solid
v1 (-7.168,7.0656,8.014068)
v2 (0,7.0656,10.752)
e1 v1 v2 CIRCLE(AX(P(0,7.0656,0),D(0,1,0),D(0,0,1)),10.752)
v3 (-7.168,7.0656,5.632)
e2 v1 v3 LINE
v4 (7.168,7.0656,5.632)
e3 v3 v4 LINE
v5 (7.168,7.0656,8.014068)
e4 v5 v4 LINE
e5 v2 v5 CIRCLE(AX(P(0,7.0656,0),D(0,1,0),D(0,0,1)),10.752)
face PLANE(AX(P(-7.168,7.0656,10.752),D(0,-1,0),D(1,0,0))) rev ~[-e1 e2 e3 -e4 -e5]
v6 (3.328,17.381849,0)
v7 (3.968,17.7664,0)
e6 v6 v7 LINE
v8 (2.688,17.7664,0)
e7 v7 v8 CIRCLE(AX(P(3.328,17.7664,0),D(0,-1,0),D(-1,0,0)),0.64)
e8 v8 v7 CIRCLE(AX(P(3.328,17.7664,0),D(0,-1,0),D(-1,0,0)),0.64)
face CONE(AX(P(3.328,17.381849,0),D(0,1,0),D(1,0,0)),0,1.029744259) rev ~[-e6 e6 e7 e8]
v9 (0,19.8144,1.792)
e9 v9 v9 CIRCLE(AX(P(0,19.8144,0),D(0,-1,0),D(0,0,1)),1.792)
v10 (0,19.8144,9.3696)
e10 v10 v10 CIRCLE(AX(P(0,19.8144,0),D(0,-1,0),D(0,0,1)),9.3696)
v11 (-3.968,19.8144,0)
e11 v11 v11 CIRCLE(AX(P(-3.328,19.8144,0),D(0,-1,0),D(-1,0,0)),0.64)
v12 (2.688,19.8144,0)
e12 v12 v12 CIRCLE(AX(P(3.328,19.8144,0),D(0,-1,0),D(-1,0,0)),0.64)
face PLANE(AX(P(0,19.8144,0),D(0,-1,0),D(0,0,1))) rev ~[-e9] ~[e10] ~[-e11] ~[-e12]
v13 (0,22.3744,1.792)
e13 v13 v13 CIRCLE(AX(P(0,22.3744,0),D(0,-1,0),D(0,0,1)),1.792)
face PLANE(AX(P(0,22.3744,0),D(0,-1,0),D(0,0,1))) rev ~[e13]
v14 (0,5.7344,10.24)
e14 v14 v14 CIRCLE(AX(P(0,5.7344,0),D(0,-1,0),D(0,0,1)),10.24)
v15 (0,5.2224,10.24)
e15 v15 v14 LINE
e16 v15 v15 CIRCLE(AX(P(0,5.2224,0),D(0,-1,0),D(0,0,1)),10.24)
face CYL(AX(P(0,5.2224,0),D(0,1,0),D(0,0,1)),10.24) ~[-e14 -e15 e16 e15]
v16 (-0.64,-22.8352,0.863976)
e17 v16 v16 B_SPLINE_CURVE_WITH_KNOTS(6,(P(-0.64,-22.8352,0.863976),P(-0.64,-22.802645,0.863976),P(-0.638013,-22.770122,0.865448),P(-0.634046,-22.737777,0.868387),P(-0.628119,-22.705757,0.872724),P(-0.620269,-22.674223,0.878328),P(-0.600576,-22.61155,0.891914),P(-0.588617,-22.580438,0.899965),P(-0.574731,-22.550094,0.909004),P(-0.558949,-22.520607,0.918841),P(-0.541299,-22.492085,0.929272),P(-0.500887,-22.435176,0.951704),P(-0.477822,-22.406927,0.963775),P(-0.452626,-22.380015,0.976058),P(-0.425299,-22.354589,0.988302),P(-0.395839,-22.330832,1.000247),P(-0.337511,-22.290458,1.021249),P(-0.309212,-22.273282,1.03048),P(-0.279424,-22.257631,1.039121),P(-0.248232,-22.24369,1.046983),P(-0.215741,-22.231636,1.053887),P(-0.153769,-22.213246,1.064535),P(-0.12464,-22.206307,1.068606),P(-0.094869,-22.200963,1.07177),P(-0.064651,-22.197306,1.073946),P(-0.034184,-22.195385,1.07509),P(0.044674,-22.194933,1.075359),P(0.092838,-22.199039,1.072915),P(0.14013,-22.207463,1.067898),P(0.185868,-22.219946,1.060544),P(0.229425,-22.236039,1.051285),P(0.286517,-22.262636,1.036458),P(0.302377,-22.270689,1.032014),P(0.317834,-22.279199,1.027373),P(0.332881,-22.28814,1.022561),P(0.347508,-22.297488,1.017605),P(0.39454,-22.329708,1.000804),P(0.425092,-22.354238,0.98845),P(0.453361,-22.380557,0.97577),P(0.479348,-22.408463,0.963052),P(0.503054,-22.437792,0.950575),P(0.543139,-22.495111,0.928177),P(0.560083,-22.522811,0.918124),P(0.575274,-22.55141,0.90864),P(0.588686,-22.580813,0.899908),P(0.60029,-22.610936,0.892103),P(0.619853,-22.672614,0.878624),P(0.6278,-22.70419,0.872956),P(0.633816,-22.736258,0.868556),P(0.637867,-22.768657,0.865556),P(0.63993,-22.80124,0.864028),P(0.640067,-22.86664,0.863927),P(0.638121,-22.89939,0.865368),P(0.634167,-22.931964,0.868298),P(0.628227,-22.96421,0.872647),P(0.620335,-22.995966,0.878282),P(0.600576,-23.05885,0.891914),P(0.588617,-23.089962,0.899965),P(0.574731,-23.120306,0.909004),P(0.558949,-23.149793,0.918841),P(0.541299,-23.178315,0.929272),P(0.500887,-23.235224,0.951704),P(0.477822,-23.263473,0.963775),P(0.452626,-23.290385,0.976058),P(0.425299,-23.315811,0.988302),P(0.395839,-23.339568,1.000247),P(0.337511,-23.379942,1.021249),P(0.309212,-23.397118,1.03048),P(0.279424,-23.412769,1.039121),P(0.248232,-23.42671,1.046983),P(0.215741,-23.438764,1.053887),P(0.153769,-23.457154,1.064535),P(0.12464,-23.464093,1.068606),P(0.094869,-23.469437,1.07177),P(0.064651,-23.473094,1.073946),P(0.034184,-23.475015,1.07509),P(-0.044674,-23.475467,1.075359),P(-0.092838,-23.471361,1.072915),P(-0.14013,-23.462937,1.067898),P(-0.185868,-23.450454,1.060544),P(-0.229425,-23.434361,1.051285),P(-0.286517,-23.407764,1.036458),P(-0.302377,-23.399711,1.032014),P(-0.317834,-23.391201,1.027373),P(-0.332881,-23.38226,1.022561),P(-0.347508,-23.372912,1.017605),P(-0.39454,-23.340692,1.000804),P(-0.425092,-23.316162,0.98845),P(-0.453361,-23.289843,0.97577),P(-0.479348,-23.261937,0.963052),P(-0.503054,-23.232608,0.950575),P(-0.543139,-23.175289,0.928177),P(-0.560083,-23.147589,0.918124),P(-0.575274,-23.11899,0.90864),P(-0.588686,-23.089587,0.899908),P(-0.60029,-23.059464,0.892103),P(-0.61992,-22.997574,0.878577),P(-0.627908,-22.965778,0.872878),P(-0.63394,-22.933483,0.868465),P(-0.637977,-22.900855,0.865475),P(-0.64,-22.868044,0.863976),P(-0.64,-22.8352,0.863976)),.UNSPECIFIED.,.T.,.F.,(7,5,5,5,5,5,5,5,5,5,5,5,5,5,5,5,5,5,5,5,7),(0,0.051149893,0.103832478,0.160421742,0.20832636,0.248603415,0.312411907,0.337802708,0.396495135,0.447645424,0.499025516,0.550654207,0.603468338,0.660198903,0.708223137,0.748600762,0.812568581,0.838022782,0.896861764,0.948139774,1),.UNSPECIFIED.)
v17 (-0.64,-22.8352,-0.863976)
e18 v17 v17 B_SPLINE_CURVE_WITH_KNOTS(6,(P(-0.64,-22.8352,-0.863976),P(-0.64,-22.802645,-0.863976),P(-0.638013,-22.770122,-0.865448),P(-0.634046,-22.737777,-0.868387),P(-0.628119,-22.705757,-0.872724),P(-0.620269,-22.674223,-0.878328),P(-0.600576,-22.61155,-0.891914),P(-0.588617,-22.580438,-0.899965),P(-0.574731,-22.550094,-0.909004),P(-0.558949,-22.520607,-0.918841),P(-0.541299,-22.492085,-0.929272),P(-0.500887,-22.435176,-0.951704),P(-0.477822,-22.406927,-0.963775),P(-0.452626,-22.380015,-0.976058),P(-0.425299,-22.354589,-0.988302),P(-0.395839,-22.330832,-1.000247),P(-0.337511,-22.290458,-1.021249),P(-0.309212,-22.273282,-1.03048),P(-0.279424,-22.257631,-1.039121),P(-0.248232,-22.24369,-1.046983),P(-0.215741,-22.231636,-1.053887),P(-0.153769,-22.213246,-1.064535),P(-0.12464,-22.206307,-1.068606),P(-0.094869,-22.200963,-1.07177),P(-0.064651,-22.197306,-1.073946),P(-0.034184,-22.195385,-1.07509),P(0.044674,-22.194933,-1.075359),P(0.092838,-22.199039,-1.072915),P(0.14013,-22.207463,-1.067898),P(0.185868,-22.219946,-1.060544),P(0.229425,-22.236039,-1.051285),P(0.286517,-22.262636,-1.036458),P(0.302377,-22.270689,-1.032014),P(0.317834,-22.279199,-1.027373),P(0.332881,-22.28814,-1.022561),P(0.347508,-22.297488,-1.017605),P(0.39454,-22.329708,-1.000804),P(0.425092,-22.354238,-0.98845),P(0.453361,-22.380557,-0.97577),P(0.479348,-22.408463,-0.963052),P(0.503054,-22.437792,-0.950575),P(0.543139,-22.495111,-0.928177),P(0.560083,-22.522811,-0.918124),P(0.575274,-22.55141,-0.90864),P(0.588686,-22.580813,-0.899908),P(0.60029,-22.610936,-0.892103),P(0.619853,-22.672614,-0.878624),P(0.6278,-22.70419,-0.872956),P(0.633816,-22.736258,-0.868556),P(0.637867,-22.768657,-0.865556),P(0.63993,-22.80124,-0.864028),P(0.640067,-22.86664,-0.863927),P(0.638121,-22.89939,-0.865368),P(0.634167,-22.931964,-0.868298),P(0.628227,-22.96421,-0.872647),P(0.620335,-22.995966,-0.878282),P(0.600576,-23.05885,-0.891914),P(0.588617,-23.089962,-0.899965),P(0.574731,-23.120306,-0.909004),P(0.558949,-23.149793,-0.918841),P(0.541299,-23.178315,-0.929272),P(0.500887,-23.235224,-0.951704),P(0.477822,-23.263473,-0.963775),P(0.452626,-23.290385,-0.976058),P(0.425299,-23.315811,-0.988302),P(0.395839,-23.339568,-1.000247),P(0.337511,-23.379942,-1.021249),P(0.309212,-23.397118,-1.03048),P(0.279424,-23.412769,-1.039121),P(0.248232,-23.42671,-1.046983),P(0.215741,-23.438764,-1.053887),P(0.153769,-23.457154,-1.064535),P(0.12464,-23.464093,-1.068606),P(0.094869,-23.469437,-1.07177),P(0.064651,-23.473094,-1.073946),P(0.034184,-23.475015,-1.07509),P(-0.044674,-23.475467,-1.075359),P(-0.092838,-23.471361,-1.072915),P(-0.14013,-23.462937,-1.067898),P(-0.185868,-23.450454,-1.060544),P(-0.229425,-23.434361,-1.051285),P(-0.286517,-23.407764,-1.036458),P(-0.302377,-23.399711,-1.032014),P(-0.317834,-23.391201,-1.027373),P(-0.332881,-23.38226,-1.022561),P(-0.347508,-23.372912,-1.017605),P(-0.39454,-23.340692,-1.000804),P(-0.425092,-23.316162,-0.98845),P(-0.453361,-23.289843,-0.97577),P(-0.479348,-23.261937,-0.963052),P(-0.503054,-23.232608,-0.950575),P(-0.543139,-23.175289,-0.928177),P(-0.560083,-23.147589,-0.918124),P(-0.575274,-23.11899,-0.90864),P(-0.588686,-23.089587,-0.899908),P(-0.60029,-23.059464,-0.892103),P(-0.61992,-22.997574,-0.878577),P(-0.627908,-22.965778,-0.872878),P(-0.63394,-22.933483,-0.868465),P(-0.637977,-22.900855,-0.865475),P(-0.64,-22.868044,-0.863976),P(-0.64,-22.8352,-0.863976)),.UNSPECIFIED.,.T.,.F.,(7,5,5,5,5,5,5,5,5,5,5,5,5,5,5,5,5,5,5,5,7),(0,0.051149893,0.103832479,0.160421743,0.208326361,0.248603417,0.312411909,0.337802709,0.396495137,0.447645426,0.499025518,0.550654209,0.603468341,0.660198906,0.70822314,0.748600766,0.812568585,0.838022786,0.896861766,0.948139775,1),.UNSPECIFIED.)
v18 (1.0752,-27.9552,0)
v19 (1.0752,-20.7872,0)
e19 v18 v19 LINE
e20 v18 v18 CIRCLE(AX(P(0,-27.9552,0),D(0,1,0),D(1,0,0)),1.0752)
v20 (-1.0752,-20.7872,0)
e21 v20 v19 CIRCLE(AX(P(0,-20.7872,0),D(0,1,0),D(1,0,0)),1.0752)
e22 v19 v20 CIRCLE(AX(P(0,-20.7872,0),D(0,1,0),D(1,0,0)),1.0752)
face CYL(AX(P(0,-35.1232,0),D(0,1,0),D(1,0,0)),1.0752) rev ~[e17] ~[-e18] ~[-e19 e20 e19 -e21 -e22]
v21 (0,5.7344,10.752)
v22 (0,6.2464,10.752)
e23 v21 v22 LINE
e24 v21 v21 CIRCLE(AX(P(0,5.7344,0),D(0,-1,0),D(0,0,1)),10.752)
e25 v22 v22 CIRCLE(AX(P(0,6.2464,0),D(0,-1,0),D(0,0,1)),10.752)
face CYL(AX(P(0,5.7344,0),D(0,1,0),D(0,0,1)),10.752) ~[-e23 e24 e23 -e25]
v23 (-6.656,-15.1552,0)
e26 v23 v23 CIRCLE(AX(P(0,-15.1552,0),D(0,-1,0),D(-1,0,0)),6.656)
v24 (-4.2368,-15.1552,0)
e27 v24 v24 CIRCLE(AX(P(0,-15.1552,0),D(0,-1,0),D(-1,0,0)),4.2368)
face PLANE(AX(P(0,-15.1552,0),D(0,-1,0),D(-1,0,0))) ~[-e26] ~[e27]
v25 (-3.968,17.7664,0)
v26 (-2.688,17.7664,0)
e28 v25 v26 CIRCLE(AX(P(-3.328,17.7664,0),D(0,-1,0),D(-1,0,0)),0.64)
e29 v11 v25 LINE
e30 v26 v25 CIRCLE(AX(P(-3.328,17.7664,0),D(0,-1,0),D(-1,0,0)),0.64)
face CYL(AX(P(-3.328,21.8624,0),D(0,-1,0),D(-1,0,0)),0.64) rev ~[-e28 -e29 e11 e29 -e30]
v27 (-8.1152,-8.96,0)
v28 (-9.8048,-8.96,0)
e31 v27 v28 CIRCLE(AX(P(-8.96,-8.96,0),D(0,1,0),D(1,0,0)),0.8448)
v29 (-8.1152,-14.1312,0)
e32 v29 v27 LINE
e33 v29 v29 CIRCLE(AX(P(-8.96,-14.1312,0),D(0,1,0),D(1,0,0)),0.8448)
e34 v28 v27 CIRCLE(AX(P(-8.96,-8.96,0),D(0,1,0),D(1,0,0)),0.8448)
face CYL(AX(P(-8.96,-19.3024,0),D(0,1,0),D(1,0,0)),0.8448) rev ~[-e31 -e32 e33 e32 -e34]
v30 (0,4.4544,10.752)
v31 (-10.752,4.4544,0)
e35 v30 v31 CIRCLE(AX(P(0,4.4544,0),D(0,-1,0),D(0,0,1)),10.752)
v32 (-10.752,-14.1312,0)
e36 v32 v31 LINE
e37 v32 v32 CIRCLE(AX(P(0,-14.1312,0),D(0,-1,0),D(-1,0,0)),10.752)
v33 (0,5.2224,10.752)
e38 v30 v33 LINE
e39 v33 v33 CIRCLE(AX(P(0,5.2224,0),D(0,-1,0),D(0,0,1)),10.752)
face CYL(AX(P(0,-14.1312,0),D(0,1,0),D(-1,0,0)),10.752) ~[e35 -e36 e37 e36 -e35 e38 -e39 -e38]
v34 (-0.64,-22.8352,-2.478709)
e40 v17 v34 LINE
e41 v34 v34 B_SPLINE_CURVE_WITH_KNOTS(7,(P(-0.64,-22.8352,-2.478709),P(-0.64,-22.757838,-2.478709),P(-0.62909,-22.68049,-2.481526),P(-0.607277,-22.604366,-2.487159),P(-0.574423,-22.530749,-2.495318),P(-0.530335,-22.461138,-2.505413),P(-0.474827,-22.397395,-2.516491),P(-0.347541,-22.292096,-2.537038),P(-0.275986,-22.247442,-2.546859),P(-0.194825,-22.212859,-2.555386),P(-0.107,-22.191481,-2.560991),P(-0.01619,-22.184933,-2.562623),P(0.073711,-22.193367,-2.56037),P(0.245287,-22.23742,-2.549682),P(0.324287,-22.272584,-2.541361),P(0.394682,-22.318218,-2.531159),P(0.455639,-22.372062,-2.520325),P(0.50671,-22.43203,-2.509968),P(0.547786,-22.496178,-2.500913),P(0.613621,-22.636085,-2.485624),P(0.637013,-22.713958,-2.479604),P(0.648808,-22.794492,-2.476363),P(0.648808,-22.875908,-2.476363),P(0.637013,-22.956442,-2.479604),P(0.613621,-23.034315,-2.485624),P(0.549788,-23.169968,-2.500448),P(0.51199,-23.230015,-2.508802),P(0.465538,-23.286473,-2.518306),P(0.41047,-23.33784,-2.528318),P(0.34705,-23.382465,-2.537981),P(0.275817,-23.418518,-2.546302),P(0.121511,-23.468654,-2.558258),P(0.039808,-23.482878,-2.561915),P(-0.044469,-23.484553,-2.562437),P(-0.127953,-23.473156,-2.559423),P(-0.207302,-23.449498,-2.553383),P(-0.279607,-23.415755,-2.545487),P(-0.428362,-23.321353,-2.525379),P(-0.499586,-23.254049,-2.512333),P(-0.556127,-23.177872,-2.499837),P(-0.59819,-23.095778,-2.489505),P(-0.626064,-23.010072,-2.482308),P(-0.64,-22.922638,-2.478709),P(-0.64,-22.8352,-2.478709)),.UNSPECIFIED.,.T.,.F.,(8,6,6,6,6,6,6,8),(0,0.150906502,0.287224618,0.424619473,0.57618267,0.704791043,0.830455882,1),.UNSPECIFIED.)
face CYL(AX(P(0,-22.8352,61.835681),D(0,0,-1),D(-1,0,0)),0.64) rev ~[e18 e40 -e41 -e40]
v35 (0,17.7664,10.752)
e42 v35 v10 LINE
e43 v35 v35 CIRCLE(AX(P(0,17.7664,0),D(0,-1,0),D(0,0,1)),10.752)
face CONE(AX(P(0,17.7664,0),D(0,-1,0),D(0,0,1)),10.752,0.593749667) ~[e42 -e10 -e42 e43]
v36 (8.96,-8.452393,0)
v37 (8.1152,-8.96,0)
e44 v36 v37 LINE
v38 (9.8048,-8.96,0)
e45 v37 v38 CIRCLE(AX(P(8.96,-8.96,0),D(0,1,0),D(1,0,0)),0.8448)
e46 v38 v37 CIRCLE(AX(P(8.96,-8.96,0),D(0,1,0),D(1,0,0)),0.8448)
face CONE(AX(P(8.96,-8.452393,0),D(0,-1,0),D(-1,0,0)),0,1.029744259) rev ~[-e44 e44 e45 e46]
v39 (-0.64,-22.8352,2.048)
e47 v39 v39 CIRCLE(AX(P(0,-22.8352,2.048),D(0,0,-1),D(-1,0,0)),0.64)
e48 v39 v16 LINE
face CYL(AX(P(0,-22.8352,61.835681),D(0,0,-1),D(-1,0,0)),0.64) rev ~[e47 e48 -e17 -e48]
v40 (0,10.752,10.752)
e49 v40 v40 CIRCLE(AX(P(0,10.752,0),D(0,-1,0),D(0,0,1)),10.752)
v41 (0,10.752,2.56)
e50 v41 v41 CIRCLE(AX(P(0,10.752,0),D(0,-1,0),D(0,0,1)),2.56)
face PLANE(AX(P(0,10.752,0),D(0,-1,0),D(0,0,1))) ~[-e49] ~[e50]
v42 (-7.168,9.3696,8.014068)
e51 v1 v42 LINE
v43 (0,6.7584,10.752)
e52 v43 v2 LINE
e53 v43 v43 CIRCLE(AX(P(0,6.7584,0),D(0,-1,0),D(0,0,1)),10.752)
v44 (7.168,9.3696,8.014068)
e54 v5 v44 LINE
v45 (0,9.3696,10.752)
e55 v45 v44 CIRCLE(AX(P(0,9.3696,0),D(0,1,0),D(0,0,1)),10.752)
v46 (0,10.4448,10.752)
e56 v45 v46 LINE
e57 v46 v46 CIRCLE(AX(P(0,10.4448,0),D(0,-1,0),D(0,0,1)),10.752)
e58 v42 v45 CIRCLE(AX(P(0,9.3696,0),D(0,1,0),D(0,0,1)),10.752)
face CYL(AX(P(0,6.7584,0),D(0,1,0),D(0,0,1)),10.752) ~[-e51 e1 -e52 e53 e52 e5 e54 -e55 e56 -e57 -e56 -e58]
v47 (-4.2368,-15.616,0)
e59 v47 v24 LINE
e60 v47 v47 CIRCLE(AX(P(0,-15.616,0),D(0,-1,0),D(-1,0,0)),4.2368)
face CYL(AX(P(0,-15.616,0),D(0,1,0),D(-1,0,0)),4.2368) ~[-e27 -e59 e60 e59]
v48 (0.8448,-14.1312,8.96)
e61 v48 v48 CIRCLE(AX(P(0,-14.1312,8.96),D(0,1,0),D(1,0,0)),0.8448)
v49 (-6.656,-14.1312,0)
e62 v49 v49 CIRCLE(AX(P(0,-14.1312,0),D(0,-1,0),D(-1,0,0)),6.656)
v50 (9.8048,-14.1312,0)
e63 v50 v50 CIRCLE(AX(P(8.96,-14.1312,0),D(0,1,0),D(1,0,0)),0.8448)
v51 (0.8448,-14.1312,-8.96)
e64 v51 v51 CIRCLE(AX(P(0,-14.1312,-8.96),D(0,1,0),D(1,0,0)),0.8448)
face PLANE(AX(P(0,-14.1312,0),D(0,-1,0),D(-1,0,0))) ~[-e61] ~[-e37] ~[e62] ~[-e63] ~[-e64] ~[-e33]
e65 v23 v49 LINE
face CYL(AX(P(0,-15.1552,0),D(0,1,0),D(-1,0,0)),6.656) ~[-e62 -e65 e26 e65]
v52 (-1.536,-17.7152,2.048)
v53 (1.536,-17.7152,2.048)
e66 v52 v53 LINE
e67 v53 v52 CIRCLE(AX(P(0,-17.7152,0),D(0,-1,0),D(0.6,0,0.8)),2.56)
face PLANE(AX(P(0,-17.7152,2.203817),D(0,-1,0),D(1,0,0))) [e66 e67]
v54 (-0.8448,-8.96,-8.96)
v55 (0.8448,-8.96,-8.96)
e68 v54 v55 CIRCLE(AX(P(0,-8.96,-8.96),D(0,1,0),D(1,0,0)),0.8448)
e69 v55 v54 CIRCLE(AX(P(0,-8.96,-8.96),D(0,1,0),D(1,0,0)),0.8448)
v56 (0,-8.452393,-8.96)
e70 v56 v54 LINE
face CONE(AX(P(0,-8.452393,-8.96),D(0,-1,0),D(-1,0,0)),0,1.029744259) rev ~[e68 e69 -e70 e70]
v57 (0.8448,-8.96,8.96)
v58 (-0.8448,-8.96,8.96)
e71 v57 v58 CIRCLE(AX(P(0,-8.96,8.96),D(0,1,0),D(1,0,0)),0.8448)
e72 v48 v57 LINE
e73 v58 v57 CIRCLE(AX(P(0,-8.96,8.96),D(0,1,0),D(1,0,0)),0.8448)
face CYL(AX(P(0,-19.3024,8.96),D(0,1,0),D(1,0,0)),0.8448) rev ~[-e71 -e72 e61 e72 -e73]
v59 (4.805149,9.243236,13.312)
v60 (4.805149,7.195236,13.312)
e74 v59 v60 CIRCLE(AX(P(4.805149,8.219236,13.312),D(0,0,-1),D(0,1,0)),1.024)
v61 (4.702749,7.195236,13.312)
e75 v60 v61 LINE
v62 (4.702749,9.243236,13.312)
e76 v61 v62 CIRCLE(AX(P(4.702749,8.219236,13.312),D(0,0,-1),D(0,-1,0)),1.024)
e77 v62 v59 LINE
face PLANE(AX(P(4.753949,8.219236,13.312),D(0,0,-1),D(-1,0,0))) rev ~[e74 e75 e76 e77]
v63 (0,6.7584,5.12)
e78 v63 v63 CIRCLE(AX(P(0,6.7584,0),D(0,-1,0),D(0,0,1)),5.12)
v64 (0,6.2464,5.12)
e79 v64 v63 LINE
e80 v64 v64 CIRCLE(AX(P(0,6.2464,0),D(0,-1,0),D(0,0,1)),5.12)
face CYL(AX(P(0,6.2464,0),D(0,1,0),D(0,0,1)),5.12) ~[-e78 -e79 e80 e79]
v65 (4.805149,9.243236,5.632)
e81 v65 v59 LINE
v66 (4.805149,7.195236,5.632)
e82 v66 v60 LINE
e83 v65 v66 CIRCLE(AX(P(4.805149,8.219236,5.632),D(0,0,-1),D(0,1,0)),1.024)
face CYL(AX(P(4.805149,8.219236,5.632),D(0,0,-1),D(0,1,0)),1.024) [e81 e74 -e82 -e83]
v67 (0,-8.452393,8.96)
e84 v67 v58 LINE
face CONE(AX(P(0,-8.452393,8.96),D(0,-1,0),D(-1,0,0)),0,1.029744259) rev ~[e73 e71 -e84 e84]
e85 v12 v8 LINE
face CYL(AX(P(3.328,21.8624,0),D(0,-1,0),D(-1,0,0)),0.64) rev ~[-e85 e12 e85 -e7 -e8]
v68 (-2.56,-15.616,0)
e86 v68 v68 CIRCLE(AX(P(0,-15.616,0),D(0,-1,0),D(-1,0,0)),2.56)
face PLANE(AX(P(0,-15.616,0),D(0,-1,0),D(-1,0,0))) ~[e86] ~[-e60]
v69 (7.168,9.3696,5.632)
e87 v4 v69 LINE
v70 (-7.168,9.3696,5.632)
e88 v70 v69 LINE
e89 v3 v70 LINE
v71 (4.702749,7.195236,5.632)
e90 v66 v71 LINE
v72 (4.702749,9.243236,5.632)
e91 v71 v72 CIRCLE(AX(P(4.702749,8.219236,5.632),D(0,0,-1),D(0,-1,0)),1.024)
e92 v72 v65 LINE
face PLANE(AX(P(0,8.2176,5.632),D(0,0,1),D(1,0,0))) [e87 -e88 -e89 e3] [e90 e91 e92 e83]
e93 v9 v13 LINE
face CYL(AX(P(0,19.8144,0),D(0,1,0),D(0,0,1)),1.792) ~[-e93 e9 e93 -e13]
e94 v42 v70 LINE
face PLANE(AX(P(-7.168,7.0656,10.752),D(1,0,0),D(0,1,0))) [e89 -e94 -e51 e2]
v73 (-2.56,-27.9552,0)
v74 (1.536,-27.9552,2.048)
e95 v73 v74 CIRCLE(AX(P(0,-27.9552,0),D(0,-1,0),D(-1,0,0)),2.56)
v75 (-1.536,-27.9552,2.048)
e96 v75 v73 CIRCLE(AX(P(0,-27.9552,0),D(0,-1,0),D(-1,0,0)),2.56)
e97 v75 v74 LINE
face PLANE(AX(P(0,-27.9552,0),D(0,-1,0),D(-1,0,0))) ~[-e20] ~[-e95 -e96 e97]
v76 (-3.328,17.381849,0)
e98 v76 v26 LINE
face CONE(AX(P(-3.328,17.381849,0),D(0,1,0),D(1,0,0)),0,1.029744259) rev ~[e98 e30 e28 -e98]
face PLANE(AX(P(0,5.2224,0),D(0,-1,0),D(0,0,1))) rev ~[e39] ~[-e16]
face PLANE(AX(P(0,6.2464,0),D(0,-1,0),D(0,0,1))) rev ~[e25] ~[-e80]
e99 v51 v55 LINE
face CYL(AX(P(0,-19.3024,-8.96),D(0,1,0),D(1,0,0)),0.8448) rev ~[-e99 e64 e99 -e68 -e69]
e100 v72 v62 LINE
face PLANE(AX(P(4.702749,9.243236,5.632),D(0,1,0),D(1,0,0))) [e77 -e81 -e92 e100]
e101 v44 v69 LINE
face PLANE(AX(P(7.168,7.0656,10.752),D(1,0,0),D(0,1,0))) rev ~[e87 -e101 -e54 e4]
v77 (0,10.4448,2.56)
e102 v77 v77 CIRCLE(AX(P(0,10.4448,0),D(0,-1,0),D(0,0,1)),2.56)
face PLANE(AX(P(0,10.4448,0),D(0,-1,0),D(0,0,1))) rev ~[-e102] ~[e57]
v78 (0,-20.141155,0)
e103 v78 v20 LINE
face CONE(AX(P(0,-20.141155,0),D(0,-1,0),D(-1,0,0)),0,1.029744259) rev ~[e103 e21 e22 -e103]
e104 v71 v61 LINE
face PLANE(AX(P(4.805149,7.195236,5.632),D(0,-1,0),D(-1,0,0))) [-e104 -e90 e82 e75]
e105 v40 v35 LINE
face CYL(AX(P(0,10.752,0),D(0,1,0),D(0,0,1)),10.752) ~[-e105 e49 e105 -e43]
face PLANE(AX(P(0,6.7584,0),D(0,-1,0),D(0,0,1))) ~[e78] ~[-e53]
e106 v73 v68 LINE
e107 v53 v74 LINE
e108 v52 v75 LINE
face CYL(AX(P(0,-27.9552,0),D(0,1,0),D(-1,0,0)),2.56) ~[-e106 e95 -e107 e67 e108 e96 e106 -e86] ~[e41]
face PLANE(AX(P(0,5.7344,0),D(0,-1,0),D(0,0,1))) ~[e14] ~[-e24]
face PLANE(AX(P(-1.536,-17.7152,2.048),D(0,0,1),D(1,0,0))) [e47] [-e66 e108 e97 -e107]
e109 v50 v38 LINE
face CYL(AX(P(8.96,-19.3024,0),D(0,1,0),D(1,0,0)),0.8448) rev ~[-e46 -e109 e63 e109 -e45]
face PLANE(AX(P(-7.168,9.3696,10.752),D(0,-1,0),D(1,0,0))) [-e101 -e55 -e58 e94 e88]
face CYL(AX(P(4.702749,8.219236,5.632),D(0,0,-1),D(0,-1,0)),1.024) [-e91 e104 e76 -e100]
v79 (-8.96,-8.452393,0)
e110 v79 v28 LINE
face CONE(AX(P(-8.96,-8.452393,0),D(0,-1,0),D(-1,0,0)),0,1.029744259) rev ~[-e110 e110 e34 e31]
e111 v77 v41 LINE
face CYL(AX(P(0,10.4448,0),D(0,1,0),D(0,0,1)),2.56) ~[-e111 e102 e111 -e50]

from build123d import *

# Parameters (mm, degrees)
SKETCH_2_W             = 28
SKETCH_2_H             = 4.5
CUT_EXTRUDE_1_DEPTH    = 10
EXTRUDE_1_DEPTH        = 15
HOLE_WIZARD_M3_1_D     = 2.5
HOLE_WIZARD_M3_1_DEPTH = 4
HOLE_WIZARD_M3_1_TIP   = 0.751075774
CUT_EXTRUDE_START      = -20
CUT_EXTRUDE_2_DEPTH    = 20
HOLE_WIZARD_M4_1_D     = 3.3
HOLE_WIZARD_M4_1_DEPTH = 10.1
HOLE_WIZARD_M4_1_TIP   = 0.991420021
HOLE_WIZARD_M3_2_D     = 2.5
HOLE_WIZARD_M5_1_D     = 4.2
HOLE_WIZARD_M5_1_DEPTH = 14
HOLE_WIZARD_M5_1_TIP   = 1.2618073
SCALE_1_SCALE          = 0.8
SCALE_2_SCALE          = 0.8
SCALE_3_SCALE          = 0.8


with BuildPart() as part:
    # 草图1 → 旋转1 (revolve)
    with BuildSketch(Plane.XY, mode=Mode.PRIVATE) as revolve_1_sk:
        Polygon((0, 0), (4.1, 0), (4.1, 6.7), (13.4, 6.7), (13.4, 8.7), (21, 8.7), (21, 10.2), (20, 10.2), (20, 11.2), (21, 11.2), (21, 12.2), (10, 12.2), (10, 13.2), (21, 13.2), (21, 20.4), (5, 20.4), (5, 21), (21, 21), (21, 34.7), (18.3, 38.7), (3.5, 38.7), (3.5, 43.7), (0, 43.7), align=None)
    revolve(revolve_1_sk.sketch.rotate(Axis((0, 43.7, 0), (0, -1, 0)), 90), axis=Axis((0, 43.7, 0), (0, -1, 0)))

    # 草图2 → 切除-拉伸1 (cut)
    with BuildSketch(Plane.XY.offset(21)):
        with Locations((0, 16.05)):
            Rectangle(SKETCH_2_W, SKETCH_2_H)
    extrude(amount=-CUT_EXTRUDE_1_DEPTH, mode=Mode.SUBTRACT)

    # 草图3 → 凸台-拉伸1 (add)
    with BuildSketch(Plane.XY.offset(11)):
        with BuildLine():
            Line((9.185056323, 18.053194417), (9.385056323, 18.053194417))
            ThreePointArc((9.385056323, 18.053194417), (11.385056323, 16.053194417), (9.385056323, 14.053194417))
            Line((9.385056323, 14.053194417), (9.185056323, 14.053194417))
            ThreePointArc((9.185056323, 14.053194417), (7.185056323, 16.053194417), (9.185056323, 18.053194417))
        make_face()
    extrude(amount=EXTRUDE_1_DEPTH)

    # M3 螺纹孔1
    with Locations(Plane(origin=(0, 38.7, 0), x_dir=(1, 0, 0), z_dir=(0, 1, 0))):
        with Locations((-6.5, 0), (6.5, 0)):
            Hole(HOLE_WIZARD_M3_1_D / 2, depth=HOLE_WIZARD_M3_1_DEPTH)
            with Locations((0, 0, -(HOLE_WIZARD_M3_1_DEPTH + HOLE_WIZARD_M3_1_TIP / 2))):  # 118° drill point
                Cone(0, HOLE_WIZARD_M3_1_D / 2, HOLE_WIZARD_M3_1_TIP, mode=Mode.SUBTRACT)

    # 草图7 → 旋转2 (revolve)
    with BuildSketch(Plane.XY, mode=Mode.PRIVATE) as revolve_2_sk:
        Polygon((0, -54.6), (5, -54.6), (5, -30.5), (8.275, -30.5), (8.275, -29.6), (13, -29.6), (13, -27.6), (21, -27.6), (21, 8.7), (0, 8.7), align=None)
    revolve(revolve_2_sk.sketch.rotate(Axis((0, 8.7, 0), (0, -1, 0)), 180), axis=Axis((0, 8.7, 0), (0, -1, 0)))

    # 草图8 → 切除-拉伸2 (cut)
    with BuildSketch(Plane.XZ.offset(54.6).offset(CUT_EXTRUDE_START)):
        with BuildLine():
            Line((-3, 4), (3, 4))
            ThreePointArc((3, 4), (0, 5), (-3, 4))
        make_face()
    extrude(amount=CUT_EXTRUDE_2_DEPTH, mode=Mode.SUBTRACT)

    # M4 螺纹孔1
    with Locations(Plane(origin=(0, -27.6, 0), x_dir=(-1, 0, 0), z_dir=(0, -1, 0))):
        with Locations((17.5, 0), (0, -17.5), (-17.5, 0), (0, 17.5)):
            Hole(HOLE_WIZARD_M4_1_D / 2, depth=HOLE_WIZARD_M4_1_DEPTH)
            with Locations((0, 0, -(HOLE_WIZARD_M4_1_DEPTH + HOLE_WIZARD_M4_1_TIP / 2))):  # 118° drill point
                Cone(0, HOLE_WIZARD_M4_1_D / 2, HOLE_WIZARD_M4_1_TIP, mode=Mode.SUBTRACT)

    # M3 螺纹孔2 (through all)
    with Locations(Plane(origin=(0, -44.6, 4), x_dir=(1, 0, 0), z_dir=(0, 0, 1))):
        with Locations((0, 0)):
            Hole(HOLE_WIZARD_M3_2_D / 2)

    # M5 螺纹孔1
    with Locations(Plane(origin=(0, -54.6, 0), x_dir=(-1, 0, 0), z_dir=(0, -1, 0))):
        with Locations((0, 0)):
            Hole(HOLE_WIZARD_M5_1_D / 2, depth=HOLE_WIZARD_M5_1_DEPTH)
            with Locations((0, 0, -(HOLE_WIZARD_M5_1_DEPTH + HOLE_WIZARD_M5_1_TIP / 2))):  # 118° drill point
                Cone(0, HOLE_WIZARD_M5_1_D / 2, HOLE_WIZARD_M5_1_TIP, mode=Mode.SUBTRACT)


with BuildPart() as part_1:
    # 缩放比例1: scaled about (0, 0, 0)
    add(part.part.scale(SCALE_1_SCALE))


with BuildPart() as part_2:
    # 缩放比例2: scaled about (0, 0, 0)
    add(part_1.part.scale(SCALE_2_SCALE))


with BuildPart() as part_3:
    # 缩放比例3: scaled about (0, 0, 0)
    add(part_2.part.scale(SCALE_3_SCALE))


solid = part_3.part
